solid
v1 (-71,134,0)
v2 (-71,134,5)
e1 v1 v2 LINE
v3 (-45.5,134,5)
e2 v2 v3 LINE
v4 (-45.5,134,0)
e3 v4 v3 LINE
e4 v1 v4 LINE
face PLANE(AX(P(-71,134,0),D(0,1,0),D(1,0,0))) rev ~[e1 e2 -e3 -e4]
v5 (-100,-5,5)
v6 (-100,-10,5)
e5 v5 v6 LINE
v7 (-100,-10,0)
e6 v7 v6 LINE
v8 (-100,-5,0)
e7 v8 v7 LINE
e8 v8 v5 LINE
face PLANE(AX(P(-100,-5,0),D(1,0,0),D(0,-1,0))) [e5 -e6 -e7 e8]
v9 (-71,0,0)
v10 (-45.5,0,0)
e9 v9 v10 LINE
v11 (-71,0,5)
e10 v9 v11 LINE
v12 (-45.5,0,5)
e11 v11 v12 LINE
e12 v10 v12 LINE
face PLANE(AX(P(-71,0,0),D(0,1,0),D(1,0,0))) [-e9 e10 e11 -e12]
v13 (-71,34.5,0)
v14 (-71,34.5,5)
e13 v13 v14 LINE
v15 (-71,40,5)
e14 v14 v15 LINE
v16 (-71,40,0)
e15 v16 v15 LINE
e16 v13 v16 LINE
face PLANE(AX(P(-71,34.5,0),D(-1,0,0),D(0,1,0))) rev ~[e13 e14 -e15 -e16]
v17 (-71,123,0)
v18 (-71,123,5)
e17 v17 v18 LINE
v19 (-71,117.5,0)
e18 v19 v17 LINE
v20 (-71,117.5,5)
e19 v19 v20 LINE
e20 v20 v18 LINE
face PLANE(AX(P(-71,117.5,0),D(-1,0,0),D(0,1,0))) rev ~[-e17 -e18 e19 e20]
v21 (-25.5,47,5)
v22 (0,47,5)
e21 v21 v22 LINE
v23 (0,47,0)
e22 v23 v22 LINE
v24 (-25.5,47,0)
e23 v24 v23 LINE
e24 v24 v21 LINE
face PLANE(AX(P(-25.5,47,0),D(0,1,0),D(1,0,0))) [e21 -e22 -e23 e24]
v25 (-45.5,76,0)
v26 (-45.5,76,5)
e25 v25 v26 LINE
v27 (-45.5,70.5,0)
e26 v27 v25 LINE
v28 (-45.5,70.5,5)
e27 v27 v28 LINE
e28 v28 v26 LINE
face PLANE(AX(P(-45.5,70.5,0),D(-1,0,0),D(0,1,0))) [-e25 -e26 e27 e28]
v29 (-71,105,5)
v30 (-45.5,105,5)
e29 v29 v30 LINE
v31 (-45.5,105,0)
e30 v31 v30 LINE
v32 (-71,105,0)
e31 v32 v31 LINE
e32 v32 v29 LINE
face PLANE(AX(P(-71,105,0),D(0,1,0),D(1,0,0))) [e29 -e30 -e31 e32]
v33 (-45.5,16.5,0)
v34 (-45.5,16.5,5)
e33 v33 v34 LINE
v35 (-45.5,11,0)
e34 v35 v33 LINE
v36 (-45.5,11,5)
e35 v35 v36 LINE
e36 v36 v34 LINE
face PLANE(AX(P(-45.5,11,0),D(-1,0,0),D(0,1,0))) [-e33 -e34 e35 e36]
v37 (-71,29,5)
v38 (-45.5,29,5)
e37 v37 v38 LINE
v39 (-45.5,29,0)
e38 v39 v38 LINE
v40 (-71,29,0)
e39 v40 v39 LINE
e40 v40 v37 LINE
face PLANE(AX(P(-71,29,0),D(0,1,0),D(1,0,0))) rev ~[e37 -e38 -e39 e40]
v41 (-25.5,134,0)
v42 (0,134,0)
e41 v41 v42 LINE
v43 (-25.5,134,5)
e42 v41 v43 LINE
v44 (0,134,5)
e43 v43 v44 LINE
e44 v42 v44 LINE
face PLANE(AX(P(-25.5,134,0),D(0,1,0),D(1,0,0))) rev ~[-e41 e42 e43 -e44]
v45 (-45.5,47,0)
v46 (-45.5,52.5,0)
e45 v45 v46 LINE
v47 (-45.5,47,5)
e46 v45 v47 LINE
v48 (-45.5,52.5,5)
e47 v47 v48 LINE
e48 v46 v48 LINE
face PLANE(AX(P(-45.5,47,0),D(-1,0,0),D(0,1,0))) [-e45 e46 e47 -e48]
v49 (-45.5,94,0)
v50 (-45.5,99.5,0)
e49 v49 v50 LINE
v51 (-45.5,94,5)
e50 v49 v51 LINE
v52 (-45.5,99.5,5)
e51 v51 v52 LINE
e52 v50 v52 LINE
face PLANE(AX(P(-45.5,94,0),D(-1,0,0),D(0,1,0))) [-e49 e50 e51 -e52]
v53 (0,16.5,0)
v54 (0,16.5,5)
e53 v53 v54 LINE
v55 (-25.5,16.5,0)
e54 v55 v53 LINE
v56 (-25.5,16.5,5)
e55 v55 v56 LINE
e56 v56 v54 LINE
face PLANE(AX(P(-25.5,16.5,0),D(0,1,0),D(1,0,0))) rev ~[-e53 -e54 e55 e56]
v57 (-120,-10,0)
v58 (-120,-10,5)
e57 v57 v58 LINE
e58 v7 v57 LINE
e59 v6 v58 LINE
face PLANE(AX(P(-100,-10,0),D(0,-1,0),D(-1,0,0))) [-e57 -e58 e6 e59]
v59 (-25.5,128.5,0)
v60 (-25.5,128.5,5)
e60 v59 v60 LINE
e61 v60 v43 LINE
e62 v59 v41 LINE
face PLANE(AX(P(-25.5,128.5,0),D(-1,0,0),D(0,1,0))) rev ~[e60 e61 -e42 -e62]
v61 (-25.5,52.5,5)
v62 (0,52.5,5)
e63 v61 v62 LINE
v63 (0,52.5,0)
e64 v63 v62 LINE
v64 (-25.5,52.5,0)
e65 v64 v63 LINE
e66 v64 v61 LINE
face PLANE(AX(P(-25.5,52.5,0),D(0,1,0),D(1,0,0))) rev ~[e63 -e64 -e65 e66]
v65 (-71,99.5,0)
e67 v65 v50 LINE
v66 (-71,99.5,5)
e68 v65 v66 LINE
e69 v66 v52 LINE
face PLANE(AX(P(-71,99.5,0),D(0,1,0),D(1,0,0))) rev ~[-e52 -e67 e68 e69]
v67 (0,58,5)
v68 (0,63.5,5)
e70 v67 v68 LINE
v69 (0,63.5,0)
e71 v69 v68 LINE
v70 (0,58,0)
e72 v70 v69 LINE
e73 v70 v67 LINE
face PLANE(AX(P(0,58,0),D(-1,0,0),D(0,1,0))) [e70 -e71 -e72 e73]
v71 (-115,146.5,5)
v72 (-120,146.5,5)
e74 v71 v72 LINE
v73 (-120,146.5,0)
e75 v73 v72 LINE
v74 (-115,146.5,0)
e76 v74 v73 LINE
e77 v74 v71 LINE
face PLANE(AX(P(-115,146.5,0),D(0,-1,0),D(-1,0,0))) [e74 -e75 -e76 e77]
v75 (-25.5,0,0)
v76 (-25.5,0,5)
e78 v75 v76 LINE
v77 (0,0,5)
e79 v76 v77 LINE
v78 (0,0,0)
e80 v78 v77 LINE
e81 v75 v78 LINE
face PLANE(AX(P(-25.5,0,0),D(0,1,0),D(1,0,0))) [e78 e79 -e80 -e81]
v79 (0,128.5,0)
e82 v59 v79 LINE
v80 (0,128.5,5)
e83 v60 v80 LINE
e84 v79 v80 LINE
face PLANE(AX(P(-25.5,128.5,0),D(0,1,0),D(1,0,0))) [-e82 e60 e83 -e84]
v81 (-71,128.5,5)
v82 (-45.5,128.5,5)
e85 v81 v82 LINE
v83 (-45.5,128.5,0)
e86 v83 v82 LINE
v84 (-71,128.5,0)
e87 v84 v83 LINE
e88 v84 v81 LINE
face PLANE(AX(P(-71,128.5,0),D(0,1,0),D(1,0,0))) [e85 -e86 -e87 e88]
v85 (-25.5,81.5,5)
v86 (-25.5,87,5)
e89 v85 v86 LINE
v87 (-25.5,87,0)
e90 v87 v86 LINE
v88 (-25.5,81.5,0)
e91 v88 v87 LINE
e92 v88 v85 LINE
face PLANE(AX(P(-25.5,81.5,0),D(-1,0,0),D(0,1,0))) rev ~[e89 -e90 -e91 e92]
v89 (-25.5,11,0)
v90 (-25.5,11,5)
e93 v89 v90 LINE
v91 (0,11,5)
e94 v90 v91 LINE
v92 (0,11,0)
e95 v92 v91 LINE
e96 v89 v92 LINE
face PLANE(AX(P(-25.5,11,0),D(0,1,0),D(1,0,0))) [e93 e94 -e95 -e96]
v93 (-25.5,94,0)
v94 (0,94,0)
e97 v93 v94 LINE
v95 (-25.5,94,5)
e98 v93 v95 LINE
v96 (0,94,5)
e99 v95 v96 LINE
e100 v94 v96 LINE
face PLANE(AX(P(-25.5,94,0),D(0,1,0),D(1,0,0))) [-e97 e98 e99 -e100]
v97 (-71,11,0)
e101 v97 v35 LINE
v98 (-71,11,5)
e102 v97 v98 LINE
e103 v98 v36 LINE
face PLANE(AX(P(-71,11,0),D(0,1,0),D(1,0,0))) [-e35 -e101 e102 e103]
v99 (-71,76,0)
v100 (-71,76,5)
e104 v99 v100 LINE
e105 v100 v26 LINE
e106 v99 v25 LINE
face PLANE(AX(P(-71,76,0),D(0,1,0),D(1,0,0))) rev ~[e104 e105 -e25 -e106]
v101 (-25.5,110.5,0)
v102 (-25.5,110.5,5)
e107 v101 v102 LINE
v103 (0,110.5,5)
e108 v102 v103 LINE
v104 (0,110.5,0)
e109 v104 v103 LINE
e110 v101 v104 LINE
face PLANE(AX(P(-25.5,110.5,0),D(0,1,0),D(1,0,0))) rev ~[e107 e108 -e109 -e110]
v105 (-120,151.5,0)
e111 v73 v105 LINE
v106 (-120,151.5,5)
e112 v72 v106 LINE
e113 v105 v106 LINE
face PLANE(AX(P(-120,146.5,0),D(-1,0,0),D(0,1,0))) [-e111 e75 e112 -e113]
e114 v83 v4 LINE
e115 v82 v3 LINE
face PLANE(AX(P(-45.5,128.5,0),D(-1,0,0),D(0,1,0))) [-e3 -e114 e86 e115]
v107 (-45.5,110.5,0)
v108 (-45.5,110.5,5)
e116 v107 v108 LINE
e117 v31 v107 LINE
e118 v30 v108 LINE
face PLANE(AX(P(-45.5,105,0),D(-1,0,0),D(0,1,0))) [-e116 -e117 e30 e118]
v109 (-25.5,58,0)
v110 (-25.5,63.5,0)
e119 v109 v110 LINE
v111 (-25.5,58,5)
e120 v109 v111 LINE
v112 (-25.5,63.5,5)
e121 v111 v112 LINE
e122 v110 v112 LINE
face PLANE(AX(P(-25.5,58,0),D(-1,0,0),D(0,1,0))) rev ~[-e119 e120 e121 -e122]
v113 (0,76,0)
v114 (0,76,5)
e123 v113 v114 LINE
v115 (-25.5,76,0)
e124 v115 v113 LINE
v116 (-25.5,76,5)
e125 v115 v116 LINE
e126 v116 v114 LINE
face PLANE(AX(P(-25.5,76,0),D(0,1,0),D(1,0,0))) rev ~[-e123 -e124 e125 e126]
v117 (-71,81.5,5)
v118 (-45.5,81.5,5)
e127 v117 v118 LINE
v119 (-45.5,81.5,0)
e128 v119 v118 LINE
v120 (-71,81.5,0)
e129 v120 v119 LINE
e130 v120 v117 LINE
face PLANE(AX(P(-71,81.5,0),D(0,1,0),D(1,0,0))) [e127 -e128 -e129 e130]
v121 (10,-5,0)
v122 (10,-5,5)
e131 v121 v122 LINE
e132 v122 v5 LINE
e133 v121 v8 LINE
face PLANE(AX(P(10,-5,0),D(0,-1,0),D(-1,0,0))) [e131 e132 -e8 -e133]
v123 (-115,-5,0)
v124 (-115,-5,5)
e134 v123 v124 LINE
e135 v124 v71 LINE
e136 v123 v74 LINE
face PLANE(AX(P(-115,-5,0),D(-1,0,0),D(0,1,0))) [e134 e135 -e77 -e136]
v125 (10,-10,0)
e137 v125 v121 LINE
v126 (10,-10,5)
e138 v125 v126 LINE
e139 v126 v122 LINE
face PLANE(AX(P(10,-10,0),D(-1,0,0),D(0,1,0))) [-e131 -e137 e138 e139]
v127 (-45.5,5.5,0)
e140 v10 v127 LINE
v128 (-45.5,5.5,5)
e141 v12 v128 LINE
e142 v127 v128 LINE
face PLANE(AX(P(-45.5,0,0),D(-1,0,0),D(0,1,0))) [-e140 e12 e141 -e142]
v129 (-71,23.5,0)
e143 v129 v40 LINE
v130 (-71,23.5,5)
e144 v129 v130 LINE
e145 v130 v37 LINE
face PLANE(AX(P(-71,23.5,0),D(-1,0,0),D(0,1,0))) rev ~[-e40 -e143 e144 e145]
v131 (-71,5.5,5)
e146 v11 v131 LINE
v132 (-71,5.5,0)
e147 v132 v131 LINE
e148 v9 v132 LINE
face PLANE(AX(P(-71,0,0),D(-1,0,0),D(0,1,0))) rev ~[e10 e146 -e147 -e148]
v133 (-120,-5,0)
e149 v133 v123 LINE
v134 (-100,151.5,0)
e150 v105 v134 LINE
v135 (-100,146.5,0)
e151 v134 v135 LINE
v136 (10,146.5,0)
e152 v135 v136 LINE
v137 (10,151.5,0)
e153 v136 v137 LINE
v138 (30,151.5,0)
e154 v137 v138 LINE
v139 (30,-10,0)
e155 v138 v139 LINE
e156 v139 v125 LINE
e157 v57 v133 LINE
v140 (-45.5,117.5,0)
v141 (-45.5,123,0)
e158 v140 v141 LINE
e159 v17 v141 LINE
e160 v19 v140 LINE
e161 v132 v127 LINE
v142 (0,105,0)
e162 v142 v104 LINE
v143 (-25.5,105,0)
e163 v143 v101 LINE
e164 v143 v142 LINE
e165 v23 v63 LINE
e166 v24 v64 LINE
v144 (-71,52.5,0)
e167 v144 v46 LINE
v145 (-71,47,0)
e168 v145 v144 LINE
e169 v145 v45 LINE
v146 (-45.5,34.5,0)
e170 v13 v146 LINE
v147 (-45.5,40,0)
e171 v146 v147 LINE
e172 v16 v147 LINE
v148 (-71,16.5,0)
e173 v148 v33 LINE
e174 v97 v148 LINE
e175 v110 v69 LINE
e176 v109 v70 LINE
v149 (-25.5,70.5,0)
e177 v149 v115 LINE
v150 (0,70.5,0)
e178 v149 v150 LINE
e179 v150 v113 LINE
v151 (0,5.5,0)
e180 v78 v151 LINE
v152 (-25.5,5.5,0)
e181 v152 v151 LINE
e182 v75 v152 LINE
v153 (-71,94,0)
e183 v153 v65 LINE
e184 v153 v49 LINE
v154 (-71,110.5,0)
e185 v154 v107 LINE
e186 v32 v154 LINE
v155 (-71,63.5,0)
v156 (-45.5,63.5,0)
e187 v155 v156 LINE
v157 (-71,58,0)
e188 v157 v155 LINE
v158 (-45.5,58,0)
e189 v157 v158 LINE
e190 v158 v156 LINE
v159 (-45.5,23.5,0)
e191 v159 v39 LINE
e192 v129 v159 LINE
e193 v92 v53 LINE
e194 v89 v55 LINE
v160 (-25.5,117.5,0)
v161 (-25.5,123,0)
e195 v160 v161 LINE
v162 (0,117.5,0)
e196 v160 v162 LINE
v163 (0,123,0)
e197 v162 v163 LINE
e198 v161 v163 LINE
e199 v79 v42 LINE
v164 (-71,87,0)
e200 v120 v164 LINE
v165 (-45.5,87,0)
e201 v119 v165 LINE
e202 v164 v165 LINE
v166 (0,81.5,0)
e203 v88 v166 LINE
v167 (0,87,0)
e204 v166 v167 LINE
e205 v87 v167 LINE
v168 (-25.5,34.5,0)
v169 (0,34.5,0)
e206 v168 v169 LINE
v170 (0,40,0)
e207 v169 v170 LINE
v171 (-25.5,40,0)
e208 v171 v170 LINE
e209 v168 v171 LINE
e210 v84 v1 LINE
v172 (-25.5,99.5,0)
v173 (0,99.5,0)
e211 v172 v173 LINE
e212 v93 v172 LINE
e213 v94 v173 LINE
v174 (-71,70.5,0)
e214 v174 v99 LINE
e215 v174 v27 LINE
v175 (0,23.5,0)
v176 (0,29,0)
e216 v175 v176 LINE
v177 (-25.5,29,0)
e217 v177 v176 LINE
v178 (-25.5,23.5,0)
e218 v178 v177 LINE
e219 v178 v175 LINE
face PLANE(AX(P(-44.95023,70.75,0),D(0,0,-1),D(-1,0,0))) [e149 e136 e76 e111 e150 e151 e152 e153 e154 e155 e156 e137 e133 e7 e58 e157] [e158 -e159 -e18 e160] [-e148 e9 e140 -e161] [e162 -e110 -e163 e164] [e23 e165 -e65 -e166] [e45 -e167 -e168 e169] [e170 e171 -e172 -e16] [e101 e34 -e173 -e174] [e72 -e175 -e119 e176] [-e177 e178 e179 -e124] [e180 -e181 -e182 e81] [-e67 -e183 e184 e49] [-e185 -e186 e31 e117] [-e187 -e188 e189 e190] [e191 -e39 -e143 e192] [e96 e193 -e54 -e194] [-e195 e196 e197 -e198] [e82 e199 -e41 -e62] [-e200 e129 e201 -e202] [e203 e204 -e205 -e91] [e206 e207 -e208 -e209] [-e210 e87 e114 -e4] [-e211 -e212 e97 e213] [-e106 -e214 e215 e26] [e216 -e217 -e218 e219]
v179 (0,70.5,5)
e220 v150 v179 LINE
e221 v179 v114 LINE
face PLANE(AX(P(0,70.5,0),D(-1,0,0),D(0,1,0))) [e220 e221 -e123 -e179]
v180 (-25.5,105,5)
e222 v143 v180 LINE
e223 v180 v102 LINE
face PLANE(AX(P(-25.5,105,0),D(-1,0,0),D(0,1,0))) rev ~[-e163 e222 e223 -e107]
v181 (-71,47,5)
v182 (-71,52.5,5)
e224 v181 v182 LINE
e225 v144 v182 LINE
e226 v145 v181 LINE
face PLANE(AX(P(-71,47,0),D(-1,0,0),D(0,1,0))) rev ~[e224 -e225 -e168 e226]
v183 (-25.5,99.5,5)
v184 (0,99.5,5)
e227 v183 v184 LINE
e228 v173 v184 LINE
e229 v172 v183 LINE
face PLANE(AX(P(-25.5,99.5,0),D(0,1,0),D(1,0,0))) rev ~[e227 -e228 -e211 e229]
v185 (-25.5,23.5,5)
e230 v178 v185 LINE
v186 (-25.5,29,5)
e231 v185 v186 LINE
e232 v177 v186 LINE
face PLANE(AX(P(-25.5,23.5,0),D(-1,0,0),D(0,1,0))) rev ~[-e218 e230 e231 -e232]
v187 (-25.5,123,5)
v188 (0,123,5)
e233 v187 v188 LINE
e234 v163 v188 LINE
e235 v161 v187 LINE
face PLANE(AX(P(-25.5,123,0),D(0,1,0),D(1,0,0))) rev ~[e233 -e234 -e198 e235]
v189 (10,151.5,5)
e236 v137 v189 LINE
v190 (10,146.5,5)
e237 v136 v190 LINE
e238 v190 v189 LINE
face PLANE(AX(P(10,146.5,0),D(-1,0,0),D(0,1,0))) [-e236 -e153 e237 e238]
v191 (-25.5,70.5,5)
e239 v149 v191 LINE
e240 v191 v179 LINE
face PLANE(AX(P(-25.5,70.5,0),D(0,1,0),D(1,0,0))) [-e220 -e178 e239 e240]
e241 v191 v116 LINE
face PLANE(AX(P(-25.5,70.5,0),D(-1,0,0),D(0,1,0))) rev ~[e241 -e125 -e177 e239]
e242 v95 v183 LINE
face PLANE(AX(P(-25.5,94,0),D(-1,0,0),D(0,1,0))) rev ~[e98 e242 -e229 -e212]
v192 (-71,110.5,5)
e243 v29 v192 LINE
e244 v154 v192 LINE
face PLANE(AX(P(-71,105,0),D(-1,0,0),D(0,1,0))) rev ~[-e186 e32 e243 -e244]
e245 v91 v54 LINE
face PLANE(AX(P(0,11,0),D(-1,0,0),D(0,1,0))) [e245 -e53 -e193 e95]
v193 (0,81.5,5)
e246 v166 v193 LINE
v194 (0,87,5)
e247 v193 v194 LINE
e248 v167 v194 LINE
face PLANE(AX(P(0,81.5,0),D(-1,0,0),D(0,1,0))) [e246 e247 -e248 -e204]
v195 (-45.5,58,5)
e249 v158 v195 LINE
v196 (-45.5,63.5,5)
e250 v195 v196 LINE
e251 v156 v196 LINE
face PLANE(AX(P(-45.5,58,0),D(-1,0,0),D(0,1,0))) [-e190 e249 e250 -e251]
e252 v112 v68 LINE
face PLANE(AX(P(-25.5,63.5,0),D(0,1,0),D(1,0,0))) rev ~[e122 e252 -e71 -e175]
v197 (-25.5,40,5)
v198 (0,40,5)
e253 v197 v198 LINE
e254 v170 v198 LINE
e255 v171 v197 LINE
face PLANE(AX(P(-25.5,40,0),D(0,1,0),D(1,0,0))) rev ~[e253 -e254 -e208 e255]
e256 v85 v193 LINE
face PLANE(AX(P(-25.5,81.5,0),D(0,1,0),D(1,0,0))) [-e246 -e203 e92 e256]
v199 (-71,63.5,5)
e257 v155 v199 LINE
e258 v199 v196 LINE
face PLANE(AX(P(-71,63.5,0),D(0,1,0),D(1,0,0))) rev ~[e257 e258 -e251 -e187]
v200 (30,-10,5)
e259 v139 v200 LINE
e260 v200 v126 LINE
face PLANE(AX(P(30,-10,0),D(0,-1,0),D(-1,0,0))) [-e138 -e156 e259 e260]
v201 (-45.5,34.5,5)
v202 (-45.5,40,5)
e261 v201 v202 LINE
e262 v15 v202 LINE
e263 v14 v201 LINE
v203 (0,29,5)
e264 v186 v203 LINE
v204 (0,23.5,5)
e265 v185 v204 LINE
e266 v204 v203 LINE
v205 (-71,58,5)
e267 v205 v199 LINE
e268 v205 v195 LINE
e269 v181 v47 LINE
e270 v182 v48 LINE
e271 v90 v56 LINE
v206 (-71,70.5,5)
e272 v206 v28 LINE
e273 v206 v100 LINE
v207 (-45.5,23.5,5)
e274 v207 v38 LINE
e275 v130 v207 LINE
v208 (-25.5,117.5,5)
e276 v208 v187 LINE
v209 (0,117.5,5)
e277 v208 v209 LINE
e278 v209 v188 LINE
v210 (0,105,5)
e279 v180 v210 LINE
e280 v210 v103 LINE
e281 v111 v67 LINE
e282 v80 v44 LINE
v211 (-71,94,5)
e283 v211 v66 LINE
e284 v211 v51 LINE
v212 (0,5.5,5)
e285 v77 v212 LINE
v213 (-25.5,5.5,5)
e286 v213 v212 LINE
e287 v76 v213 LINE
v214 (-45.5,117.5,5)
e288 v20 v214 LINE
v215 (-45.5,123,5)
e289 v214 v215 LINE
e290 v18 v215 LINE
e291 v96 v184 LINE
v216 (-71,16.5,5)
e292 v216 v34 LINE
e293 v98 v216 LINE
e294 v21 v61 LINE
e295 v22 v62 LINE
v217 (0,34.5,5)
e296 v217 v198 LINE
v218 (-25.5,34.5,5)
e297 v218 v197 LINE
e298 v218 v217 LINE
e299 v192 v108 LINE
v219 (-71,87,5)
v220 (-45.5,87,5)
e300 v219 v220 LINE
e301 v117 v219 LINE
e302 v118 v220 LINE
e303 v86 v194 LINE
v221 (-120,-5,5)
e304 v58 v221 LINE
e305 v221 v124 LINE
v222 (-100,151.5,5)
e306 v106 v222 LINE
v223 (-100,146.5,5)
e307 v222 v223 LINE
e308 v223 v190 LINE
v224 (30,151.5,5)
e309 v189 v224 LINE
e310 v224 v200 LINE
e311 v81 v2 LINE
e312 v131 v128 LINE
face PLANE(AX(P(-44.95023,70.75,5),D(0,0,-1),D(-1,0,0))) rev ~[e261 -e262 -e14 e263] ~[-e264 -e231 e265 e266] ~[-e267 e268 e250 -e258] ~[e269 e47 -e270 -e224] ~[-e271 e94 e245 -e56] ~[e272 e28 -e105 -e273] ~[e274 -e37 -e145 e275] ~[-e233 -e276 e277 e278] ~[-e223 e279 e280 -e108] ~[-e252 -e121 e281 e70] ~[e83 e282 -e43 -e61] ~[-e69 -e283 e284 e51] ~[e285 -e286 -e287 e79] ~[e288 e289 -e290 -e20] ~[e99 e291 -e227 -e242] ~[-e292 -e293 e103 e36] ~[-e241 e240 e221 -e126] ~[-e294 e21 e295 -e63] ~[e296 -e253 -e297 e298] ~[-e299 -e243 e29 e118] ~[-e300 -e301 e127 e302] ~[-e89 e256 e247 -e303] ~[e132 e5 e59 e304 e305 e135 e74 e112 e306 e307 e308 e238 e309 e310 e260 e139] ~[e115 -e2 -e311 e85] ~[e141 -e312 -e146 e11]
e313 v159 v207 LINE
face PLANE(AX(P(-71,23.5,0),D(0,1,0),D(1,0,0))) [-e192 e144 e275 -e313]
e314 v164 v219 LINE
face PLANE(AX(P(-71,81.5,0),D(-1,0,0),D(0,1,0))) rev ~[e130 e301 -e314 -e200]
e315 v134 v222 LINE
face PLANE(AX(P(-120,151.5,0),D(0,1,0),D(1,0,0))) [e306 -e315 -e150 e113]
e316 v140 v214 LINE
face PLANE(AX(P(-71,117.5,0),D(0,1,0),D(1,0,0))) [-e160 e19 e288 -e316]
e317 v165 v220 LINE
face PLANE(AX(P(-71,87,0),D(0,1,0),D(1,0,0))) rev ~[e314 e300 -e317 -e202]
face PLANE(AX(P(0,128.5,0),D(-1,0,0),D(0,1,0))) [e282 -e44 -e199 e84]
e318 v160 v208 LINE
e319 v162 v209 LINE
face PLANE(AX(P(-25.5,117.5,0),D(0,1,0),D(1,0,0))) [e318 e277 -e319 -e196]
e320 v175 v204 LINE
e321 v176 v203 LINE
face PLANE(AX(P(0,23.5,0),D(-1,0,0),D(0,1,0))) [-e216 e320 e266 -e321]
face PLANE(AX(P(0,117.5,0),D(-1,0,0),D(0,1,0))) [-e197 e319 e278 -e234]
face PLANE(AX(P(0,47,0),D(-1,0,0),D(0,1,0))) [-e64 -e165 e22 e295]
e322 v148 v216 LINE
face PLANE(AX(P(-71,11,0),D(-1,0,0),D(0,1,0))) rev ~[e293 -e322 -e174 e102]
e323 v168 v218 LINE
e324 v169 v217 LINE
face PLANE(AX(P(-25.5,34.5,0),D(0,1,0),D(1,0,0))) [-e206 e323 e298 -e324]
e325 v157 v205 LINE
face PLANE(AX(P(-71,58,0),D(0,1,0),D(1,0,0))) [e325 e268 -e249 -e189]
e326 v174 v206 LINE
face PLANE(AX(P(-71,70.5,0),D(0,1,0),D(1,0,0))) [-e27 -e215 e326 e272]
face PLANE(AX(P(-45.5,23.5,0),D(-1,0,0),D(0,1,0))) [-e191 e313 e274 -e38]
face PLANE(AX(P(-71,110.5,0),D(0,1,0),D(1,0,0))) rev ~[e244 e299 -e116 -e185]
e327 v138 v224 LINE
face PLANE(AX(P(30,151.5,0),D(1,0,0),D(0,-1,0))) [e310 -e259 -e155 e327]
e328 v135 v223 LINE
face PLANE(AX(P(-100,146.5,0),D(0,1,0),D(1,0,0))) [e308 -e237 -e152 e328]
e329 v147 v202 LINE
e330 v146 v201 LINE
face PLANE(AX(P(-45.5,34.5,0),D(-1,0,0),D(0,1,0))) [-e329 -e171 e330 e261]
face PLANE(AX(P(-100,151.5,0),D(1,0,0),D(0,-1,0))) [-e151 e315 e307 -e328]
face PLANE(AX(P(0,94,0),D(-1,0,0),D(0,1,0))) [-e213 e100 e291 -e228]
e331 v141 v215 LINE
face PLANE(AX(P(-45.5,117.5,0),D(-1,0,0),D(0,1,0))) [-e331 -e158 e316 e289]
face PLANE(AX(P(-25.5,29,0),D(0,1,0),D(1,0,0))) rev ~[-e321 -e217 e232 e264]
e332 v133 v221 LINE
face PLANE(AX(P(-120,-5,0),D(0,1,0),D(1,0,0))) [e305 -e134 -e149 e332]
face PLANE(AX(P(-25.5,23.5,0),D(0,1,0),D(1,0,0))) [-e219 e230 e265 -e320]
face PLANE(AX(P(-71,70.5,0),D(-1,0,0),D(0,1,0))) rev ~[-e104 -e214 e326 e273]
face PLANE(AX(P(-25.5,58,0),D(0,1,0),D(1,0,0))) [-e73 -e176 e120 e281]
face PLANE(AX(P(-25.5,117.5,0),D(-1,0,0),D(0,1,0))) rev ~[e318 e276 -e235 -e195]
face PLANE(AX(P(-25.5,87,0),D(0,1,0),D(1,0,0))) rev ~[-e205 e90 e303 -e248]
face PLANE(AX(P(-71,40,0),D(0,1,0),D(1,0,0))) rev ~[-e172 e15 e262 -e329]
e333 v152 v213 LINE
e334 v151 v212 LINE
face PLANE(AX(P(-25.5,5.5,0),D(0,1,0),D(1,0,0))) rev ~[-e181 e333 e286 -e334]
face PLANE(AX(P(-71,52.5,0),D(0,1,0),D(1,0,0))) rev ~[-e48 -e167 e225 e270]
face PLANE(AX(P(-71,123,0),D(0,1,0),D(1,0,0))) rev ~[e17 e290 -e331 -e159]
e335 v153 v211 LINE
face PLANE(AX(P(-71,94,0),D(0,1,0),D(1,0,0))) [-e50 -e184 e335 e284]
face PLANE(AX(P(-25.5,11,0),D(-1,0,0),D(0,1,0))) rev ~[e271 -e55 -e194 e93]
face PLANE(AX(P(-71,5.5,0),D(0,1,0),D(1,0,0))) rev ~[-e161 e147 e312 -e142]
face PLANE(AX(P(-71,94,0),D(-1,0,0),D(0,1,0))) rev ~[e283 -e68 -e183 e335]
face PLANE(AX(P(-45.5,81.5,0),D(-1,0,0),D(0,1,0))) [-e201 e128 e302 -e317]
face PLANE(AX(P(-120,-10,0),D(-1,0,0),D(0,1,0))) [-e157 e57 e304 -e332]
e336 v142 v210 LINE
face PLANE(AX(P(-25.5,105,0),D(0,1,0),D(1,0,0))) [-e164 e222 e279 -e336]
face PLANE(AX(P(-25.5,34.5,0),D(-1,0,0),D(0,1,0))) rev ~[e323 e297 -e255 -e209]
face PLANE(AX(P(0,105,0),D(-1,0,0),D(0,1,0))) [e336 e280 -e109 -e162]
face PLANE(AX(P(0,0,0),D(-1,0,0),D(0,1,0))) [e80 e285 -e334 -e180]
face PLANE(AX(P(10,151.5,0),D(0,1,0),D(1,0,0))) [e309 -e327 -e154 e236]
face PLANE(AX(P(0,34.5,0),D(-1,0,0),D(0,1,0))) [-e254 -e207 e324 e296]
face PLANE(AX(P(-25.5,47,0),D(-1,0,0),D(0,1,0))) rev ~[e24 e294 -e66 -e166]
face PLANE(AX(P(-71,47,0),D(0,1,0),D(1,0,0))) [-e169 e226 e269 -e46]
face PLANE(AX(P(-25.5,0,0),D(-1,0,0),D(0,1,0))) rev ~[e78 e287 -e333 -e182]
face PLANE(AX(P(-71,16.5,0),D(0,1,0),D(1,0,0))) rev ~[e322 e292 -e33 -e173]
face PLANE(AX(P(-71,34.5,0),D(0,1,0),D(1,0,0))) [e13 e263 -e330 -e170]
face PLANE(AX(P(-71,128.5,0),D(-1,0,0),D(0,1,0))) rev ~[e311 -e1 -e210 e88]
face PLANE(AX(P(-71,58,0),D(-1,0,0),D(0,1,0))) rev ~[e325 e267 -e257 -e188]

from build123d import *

# Parameters (mm, degrees)
SKETCH1_W           = 25.5
SKETCH1_H           = 5.5
BOSS_EXTRUDE1_DEPTH = 5


with BuildPart() as part:
    # Sketch1 → Boss-Extrude1 (new body)
    with BuildSketch(Plane.XY):
        Polygon((-100, 151.5), (-100, 146.5), (10, 146.5), (10, 151.5), (30, 151.5), (30, -10), (10, -10), (10, -5), (-100, -5), (-100, -10), (-120, -10), (-120, -5), (-115, -5), (-115, 146.5), (-120, 146.5), (-120, 151.5), align=None)
        with Locations((-58.25, 13.75)):
            Rectangle(SKETCH1_W, SKETCH1_H, mode=Mode.SUBTRACT)
        with Locations((-12.75, 2.75)):
            Rectangle(SKETCH1_W, SKETCH1_H, mode=Mode.SUBTRACT)
        with Locations((-58.25, 2.75)):
            Rectangle(SKETCH1_W, SKETCH1_H, mode=Mode.SUBTRACT)
        with Locations((-12.75, 13.75)):
            Rectangle(SKETCH1_W, SKETCH1_H, mode=Mode.SUBTRACT)
        with Locations((-12.75, 26.25)):
            Rectangle(SKETCH1_W, SKETCH1_H, mode=Mode.SUBTRACT)
        with Locations((-58.25, 26.25)):
            Rectangle(SKETCH1_W, SKETCH1_H, mode=Mode.SUBTRACT)
        with Locations((-58.25, 37.25)):
            Rectangle(SKETCH1_W, SKETCH1_H, mode=Mode.SUBTRACT)
        with Locations((-12.75, 37.25)):
            Rectangle(SKETCH1_W, SKETCH1_H, mode=Mode.SUBTRACT)
        with Locations((-12.75, 49.75)):
            Rectangle(SKETCH1_W, SKETCH1_H, mode=Mode.SUBTRACT)
        with Locations((-58.25, 49.75)):
            Rectangle(SKETCH1_W, SKETCH1_H, mode=Mode.SUBTRACT)
        with Locations((-58.25, 60.75)):
            Rectangle(SKETCH1_W, SKETCH1_H, mode=Mode.SUBTRACT)
        with Locations((-12.75, 60.75)):
            Rectangle(SKETCH1_W, SKETCH1_H, mode=Mode.SUBTRACT)
        with Locations((-12.75, 73.25)):
            Rectangle(SKETCH1_W, SKETCH1_H, mode=Mode.SUBTRACT)
        with Locations((-58.25, 73.25)):
            Rectangle(SKETCH1_W, SKETCH1_H, mode=Mode.SUBTRACT)
        with Locations((-58.25, 84.25)):
            Rectangle(SKETCH1_W, SKETCH1_H, mode=Mode.SUBTRACT)
        with Locations((-12.75, 84.25)):
            Rectangle(SKETCH1_W, SKETCH1_H, mode=Mode.SUBTRACT)
        with Locations((-12.75, 96.75)):
            Rectangle(SKETCH1_W, SKETCH1_H, mode=Mode.SUBTRACT)
        with Locations((-58.25, 96.75)):
            Rectangle(SKETCH1_W, SKETCH1_H, mode=Mode.SUBTRACT)
        with Locations((-58.25, 107.75)):
            Rectangle(SKETCH1_W, SKETCH1_H, mode=Mode.SUBTRACT)
        with Locations((-12.75, 107.75)):
            Rectangle(SKETCH1_W, SKETCH1_H, mode=Mode.SUBTRACT)
        with Locations((-12.75, 120.25)):
            Rectangle(SKETCH1_W, SKETCH1_H, mode=Mode.SUBTRACT)
        with Locations((-58.25, 120.25)):
            Rectangle(SKETCH1_W, SKETCH1_H, mode=Mode.SUBTRACT)
        with Locations((-58.25, 131.25)):
            Rectangle(SKETCH1_W, SKETCH1_H, mode=Mode.SUBTRACT)
        with Locations((-12.75, 131.25)):
            Rectangle(SKETCH1_W, SKETCH1_H, mode=Mode.SUBTRACT)
    extrude(amount=BOSS_EXTRUDE1_DEPTH)


solid = part.part
